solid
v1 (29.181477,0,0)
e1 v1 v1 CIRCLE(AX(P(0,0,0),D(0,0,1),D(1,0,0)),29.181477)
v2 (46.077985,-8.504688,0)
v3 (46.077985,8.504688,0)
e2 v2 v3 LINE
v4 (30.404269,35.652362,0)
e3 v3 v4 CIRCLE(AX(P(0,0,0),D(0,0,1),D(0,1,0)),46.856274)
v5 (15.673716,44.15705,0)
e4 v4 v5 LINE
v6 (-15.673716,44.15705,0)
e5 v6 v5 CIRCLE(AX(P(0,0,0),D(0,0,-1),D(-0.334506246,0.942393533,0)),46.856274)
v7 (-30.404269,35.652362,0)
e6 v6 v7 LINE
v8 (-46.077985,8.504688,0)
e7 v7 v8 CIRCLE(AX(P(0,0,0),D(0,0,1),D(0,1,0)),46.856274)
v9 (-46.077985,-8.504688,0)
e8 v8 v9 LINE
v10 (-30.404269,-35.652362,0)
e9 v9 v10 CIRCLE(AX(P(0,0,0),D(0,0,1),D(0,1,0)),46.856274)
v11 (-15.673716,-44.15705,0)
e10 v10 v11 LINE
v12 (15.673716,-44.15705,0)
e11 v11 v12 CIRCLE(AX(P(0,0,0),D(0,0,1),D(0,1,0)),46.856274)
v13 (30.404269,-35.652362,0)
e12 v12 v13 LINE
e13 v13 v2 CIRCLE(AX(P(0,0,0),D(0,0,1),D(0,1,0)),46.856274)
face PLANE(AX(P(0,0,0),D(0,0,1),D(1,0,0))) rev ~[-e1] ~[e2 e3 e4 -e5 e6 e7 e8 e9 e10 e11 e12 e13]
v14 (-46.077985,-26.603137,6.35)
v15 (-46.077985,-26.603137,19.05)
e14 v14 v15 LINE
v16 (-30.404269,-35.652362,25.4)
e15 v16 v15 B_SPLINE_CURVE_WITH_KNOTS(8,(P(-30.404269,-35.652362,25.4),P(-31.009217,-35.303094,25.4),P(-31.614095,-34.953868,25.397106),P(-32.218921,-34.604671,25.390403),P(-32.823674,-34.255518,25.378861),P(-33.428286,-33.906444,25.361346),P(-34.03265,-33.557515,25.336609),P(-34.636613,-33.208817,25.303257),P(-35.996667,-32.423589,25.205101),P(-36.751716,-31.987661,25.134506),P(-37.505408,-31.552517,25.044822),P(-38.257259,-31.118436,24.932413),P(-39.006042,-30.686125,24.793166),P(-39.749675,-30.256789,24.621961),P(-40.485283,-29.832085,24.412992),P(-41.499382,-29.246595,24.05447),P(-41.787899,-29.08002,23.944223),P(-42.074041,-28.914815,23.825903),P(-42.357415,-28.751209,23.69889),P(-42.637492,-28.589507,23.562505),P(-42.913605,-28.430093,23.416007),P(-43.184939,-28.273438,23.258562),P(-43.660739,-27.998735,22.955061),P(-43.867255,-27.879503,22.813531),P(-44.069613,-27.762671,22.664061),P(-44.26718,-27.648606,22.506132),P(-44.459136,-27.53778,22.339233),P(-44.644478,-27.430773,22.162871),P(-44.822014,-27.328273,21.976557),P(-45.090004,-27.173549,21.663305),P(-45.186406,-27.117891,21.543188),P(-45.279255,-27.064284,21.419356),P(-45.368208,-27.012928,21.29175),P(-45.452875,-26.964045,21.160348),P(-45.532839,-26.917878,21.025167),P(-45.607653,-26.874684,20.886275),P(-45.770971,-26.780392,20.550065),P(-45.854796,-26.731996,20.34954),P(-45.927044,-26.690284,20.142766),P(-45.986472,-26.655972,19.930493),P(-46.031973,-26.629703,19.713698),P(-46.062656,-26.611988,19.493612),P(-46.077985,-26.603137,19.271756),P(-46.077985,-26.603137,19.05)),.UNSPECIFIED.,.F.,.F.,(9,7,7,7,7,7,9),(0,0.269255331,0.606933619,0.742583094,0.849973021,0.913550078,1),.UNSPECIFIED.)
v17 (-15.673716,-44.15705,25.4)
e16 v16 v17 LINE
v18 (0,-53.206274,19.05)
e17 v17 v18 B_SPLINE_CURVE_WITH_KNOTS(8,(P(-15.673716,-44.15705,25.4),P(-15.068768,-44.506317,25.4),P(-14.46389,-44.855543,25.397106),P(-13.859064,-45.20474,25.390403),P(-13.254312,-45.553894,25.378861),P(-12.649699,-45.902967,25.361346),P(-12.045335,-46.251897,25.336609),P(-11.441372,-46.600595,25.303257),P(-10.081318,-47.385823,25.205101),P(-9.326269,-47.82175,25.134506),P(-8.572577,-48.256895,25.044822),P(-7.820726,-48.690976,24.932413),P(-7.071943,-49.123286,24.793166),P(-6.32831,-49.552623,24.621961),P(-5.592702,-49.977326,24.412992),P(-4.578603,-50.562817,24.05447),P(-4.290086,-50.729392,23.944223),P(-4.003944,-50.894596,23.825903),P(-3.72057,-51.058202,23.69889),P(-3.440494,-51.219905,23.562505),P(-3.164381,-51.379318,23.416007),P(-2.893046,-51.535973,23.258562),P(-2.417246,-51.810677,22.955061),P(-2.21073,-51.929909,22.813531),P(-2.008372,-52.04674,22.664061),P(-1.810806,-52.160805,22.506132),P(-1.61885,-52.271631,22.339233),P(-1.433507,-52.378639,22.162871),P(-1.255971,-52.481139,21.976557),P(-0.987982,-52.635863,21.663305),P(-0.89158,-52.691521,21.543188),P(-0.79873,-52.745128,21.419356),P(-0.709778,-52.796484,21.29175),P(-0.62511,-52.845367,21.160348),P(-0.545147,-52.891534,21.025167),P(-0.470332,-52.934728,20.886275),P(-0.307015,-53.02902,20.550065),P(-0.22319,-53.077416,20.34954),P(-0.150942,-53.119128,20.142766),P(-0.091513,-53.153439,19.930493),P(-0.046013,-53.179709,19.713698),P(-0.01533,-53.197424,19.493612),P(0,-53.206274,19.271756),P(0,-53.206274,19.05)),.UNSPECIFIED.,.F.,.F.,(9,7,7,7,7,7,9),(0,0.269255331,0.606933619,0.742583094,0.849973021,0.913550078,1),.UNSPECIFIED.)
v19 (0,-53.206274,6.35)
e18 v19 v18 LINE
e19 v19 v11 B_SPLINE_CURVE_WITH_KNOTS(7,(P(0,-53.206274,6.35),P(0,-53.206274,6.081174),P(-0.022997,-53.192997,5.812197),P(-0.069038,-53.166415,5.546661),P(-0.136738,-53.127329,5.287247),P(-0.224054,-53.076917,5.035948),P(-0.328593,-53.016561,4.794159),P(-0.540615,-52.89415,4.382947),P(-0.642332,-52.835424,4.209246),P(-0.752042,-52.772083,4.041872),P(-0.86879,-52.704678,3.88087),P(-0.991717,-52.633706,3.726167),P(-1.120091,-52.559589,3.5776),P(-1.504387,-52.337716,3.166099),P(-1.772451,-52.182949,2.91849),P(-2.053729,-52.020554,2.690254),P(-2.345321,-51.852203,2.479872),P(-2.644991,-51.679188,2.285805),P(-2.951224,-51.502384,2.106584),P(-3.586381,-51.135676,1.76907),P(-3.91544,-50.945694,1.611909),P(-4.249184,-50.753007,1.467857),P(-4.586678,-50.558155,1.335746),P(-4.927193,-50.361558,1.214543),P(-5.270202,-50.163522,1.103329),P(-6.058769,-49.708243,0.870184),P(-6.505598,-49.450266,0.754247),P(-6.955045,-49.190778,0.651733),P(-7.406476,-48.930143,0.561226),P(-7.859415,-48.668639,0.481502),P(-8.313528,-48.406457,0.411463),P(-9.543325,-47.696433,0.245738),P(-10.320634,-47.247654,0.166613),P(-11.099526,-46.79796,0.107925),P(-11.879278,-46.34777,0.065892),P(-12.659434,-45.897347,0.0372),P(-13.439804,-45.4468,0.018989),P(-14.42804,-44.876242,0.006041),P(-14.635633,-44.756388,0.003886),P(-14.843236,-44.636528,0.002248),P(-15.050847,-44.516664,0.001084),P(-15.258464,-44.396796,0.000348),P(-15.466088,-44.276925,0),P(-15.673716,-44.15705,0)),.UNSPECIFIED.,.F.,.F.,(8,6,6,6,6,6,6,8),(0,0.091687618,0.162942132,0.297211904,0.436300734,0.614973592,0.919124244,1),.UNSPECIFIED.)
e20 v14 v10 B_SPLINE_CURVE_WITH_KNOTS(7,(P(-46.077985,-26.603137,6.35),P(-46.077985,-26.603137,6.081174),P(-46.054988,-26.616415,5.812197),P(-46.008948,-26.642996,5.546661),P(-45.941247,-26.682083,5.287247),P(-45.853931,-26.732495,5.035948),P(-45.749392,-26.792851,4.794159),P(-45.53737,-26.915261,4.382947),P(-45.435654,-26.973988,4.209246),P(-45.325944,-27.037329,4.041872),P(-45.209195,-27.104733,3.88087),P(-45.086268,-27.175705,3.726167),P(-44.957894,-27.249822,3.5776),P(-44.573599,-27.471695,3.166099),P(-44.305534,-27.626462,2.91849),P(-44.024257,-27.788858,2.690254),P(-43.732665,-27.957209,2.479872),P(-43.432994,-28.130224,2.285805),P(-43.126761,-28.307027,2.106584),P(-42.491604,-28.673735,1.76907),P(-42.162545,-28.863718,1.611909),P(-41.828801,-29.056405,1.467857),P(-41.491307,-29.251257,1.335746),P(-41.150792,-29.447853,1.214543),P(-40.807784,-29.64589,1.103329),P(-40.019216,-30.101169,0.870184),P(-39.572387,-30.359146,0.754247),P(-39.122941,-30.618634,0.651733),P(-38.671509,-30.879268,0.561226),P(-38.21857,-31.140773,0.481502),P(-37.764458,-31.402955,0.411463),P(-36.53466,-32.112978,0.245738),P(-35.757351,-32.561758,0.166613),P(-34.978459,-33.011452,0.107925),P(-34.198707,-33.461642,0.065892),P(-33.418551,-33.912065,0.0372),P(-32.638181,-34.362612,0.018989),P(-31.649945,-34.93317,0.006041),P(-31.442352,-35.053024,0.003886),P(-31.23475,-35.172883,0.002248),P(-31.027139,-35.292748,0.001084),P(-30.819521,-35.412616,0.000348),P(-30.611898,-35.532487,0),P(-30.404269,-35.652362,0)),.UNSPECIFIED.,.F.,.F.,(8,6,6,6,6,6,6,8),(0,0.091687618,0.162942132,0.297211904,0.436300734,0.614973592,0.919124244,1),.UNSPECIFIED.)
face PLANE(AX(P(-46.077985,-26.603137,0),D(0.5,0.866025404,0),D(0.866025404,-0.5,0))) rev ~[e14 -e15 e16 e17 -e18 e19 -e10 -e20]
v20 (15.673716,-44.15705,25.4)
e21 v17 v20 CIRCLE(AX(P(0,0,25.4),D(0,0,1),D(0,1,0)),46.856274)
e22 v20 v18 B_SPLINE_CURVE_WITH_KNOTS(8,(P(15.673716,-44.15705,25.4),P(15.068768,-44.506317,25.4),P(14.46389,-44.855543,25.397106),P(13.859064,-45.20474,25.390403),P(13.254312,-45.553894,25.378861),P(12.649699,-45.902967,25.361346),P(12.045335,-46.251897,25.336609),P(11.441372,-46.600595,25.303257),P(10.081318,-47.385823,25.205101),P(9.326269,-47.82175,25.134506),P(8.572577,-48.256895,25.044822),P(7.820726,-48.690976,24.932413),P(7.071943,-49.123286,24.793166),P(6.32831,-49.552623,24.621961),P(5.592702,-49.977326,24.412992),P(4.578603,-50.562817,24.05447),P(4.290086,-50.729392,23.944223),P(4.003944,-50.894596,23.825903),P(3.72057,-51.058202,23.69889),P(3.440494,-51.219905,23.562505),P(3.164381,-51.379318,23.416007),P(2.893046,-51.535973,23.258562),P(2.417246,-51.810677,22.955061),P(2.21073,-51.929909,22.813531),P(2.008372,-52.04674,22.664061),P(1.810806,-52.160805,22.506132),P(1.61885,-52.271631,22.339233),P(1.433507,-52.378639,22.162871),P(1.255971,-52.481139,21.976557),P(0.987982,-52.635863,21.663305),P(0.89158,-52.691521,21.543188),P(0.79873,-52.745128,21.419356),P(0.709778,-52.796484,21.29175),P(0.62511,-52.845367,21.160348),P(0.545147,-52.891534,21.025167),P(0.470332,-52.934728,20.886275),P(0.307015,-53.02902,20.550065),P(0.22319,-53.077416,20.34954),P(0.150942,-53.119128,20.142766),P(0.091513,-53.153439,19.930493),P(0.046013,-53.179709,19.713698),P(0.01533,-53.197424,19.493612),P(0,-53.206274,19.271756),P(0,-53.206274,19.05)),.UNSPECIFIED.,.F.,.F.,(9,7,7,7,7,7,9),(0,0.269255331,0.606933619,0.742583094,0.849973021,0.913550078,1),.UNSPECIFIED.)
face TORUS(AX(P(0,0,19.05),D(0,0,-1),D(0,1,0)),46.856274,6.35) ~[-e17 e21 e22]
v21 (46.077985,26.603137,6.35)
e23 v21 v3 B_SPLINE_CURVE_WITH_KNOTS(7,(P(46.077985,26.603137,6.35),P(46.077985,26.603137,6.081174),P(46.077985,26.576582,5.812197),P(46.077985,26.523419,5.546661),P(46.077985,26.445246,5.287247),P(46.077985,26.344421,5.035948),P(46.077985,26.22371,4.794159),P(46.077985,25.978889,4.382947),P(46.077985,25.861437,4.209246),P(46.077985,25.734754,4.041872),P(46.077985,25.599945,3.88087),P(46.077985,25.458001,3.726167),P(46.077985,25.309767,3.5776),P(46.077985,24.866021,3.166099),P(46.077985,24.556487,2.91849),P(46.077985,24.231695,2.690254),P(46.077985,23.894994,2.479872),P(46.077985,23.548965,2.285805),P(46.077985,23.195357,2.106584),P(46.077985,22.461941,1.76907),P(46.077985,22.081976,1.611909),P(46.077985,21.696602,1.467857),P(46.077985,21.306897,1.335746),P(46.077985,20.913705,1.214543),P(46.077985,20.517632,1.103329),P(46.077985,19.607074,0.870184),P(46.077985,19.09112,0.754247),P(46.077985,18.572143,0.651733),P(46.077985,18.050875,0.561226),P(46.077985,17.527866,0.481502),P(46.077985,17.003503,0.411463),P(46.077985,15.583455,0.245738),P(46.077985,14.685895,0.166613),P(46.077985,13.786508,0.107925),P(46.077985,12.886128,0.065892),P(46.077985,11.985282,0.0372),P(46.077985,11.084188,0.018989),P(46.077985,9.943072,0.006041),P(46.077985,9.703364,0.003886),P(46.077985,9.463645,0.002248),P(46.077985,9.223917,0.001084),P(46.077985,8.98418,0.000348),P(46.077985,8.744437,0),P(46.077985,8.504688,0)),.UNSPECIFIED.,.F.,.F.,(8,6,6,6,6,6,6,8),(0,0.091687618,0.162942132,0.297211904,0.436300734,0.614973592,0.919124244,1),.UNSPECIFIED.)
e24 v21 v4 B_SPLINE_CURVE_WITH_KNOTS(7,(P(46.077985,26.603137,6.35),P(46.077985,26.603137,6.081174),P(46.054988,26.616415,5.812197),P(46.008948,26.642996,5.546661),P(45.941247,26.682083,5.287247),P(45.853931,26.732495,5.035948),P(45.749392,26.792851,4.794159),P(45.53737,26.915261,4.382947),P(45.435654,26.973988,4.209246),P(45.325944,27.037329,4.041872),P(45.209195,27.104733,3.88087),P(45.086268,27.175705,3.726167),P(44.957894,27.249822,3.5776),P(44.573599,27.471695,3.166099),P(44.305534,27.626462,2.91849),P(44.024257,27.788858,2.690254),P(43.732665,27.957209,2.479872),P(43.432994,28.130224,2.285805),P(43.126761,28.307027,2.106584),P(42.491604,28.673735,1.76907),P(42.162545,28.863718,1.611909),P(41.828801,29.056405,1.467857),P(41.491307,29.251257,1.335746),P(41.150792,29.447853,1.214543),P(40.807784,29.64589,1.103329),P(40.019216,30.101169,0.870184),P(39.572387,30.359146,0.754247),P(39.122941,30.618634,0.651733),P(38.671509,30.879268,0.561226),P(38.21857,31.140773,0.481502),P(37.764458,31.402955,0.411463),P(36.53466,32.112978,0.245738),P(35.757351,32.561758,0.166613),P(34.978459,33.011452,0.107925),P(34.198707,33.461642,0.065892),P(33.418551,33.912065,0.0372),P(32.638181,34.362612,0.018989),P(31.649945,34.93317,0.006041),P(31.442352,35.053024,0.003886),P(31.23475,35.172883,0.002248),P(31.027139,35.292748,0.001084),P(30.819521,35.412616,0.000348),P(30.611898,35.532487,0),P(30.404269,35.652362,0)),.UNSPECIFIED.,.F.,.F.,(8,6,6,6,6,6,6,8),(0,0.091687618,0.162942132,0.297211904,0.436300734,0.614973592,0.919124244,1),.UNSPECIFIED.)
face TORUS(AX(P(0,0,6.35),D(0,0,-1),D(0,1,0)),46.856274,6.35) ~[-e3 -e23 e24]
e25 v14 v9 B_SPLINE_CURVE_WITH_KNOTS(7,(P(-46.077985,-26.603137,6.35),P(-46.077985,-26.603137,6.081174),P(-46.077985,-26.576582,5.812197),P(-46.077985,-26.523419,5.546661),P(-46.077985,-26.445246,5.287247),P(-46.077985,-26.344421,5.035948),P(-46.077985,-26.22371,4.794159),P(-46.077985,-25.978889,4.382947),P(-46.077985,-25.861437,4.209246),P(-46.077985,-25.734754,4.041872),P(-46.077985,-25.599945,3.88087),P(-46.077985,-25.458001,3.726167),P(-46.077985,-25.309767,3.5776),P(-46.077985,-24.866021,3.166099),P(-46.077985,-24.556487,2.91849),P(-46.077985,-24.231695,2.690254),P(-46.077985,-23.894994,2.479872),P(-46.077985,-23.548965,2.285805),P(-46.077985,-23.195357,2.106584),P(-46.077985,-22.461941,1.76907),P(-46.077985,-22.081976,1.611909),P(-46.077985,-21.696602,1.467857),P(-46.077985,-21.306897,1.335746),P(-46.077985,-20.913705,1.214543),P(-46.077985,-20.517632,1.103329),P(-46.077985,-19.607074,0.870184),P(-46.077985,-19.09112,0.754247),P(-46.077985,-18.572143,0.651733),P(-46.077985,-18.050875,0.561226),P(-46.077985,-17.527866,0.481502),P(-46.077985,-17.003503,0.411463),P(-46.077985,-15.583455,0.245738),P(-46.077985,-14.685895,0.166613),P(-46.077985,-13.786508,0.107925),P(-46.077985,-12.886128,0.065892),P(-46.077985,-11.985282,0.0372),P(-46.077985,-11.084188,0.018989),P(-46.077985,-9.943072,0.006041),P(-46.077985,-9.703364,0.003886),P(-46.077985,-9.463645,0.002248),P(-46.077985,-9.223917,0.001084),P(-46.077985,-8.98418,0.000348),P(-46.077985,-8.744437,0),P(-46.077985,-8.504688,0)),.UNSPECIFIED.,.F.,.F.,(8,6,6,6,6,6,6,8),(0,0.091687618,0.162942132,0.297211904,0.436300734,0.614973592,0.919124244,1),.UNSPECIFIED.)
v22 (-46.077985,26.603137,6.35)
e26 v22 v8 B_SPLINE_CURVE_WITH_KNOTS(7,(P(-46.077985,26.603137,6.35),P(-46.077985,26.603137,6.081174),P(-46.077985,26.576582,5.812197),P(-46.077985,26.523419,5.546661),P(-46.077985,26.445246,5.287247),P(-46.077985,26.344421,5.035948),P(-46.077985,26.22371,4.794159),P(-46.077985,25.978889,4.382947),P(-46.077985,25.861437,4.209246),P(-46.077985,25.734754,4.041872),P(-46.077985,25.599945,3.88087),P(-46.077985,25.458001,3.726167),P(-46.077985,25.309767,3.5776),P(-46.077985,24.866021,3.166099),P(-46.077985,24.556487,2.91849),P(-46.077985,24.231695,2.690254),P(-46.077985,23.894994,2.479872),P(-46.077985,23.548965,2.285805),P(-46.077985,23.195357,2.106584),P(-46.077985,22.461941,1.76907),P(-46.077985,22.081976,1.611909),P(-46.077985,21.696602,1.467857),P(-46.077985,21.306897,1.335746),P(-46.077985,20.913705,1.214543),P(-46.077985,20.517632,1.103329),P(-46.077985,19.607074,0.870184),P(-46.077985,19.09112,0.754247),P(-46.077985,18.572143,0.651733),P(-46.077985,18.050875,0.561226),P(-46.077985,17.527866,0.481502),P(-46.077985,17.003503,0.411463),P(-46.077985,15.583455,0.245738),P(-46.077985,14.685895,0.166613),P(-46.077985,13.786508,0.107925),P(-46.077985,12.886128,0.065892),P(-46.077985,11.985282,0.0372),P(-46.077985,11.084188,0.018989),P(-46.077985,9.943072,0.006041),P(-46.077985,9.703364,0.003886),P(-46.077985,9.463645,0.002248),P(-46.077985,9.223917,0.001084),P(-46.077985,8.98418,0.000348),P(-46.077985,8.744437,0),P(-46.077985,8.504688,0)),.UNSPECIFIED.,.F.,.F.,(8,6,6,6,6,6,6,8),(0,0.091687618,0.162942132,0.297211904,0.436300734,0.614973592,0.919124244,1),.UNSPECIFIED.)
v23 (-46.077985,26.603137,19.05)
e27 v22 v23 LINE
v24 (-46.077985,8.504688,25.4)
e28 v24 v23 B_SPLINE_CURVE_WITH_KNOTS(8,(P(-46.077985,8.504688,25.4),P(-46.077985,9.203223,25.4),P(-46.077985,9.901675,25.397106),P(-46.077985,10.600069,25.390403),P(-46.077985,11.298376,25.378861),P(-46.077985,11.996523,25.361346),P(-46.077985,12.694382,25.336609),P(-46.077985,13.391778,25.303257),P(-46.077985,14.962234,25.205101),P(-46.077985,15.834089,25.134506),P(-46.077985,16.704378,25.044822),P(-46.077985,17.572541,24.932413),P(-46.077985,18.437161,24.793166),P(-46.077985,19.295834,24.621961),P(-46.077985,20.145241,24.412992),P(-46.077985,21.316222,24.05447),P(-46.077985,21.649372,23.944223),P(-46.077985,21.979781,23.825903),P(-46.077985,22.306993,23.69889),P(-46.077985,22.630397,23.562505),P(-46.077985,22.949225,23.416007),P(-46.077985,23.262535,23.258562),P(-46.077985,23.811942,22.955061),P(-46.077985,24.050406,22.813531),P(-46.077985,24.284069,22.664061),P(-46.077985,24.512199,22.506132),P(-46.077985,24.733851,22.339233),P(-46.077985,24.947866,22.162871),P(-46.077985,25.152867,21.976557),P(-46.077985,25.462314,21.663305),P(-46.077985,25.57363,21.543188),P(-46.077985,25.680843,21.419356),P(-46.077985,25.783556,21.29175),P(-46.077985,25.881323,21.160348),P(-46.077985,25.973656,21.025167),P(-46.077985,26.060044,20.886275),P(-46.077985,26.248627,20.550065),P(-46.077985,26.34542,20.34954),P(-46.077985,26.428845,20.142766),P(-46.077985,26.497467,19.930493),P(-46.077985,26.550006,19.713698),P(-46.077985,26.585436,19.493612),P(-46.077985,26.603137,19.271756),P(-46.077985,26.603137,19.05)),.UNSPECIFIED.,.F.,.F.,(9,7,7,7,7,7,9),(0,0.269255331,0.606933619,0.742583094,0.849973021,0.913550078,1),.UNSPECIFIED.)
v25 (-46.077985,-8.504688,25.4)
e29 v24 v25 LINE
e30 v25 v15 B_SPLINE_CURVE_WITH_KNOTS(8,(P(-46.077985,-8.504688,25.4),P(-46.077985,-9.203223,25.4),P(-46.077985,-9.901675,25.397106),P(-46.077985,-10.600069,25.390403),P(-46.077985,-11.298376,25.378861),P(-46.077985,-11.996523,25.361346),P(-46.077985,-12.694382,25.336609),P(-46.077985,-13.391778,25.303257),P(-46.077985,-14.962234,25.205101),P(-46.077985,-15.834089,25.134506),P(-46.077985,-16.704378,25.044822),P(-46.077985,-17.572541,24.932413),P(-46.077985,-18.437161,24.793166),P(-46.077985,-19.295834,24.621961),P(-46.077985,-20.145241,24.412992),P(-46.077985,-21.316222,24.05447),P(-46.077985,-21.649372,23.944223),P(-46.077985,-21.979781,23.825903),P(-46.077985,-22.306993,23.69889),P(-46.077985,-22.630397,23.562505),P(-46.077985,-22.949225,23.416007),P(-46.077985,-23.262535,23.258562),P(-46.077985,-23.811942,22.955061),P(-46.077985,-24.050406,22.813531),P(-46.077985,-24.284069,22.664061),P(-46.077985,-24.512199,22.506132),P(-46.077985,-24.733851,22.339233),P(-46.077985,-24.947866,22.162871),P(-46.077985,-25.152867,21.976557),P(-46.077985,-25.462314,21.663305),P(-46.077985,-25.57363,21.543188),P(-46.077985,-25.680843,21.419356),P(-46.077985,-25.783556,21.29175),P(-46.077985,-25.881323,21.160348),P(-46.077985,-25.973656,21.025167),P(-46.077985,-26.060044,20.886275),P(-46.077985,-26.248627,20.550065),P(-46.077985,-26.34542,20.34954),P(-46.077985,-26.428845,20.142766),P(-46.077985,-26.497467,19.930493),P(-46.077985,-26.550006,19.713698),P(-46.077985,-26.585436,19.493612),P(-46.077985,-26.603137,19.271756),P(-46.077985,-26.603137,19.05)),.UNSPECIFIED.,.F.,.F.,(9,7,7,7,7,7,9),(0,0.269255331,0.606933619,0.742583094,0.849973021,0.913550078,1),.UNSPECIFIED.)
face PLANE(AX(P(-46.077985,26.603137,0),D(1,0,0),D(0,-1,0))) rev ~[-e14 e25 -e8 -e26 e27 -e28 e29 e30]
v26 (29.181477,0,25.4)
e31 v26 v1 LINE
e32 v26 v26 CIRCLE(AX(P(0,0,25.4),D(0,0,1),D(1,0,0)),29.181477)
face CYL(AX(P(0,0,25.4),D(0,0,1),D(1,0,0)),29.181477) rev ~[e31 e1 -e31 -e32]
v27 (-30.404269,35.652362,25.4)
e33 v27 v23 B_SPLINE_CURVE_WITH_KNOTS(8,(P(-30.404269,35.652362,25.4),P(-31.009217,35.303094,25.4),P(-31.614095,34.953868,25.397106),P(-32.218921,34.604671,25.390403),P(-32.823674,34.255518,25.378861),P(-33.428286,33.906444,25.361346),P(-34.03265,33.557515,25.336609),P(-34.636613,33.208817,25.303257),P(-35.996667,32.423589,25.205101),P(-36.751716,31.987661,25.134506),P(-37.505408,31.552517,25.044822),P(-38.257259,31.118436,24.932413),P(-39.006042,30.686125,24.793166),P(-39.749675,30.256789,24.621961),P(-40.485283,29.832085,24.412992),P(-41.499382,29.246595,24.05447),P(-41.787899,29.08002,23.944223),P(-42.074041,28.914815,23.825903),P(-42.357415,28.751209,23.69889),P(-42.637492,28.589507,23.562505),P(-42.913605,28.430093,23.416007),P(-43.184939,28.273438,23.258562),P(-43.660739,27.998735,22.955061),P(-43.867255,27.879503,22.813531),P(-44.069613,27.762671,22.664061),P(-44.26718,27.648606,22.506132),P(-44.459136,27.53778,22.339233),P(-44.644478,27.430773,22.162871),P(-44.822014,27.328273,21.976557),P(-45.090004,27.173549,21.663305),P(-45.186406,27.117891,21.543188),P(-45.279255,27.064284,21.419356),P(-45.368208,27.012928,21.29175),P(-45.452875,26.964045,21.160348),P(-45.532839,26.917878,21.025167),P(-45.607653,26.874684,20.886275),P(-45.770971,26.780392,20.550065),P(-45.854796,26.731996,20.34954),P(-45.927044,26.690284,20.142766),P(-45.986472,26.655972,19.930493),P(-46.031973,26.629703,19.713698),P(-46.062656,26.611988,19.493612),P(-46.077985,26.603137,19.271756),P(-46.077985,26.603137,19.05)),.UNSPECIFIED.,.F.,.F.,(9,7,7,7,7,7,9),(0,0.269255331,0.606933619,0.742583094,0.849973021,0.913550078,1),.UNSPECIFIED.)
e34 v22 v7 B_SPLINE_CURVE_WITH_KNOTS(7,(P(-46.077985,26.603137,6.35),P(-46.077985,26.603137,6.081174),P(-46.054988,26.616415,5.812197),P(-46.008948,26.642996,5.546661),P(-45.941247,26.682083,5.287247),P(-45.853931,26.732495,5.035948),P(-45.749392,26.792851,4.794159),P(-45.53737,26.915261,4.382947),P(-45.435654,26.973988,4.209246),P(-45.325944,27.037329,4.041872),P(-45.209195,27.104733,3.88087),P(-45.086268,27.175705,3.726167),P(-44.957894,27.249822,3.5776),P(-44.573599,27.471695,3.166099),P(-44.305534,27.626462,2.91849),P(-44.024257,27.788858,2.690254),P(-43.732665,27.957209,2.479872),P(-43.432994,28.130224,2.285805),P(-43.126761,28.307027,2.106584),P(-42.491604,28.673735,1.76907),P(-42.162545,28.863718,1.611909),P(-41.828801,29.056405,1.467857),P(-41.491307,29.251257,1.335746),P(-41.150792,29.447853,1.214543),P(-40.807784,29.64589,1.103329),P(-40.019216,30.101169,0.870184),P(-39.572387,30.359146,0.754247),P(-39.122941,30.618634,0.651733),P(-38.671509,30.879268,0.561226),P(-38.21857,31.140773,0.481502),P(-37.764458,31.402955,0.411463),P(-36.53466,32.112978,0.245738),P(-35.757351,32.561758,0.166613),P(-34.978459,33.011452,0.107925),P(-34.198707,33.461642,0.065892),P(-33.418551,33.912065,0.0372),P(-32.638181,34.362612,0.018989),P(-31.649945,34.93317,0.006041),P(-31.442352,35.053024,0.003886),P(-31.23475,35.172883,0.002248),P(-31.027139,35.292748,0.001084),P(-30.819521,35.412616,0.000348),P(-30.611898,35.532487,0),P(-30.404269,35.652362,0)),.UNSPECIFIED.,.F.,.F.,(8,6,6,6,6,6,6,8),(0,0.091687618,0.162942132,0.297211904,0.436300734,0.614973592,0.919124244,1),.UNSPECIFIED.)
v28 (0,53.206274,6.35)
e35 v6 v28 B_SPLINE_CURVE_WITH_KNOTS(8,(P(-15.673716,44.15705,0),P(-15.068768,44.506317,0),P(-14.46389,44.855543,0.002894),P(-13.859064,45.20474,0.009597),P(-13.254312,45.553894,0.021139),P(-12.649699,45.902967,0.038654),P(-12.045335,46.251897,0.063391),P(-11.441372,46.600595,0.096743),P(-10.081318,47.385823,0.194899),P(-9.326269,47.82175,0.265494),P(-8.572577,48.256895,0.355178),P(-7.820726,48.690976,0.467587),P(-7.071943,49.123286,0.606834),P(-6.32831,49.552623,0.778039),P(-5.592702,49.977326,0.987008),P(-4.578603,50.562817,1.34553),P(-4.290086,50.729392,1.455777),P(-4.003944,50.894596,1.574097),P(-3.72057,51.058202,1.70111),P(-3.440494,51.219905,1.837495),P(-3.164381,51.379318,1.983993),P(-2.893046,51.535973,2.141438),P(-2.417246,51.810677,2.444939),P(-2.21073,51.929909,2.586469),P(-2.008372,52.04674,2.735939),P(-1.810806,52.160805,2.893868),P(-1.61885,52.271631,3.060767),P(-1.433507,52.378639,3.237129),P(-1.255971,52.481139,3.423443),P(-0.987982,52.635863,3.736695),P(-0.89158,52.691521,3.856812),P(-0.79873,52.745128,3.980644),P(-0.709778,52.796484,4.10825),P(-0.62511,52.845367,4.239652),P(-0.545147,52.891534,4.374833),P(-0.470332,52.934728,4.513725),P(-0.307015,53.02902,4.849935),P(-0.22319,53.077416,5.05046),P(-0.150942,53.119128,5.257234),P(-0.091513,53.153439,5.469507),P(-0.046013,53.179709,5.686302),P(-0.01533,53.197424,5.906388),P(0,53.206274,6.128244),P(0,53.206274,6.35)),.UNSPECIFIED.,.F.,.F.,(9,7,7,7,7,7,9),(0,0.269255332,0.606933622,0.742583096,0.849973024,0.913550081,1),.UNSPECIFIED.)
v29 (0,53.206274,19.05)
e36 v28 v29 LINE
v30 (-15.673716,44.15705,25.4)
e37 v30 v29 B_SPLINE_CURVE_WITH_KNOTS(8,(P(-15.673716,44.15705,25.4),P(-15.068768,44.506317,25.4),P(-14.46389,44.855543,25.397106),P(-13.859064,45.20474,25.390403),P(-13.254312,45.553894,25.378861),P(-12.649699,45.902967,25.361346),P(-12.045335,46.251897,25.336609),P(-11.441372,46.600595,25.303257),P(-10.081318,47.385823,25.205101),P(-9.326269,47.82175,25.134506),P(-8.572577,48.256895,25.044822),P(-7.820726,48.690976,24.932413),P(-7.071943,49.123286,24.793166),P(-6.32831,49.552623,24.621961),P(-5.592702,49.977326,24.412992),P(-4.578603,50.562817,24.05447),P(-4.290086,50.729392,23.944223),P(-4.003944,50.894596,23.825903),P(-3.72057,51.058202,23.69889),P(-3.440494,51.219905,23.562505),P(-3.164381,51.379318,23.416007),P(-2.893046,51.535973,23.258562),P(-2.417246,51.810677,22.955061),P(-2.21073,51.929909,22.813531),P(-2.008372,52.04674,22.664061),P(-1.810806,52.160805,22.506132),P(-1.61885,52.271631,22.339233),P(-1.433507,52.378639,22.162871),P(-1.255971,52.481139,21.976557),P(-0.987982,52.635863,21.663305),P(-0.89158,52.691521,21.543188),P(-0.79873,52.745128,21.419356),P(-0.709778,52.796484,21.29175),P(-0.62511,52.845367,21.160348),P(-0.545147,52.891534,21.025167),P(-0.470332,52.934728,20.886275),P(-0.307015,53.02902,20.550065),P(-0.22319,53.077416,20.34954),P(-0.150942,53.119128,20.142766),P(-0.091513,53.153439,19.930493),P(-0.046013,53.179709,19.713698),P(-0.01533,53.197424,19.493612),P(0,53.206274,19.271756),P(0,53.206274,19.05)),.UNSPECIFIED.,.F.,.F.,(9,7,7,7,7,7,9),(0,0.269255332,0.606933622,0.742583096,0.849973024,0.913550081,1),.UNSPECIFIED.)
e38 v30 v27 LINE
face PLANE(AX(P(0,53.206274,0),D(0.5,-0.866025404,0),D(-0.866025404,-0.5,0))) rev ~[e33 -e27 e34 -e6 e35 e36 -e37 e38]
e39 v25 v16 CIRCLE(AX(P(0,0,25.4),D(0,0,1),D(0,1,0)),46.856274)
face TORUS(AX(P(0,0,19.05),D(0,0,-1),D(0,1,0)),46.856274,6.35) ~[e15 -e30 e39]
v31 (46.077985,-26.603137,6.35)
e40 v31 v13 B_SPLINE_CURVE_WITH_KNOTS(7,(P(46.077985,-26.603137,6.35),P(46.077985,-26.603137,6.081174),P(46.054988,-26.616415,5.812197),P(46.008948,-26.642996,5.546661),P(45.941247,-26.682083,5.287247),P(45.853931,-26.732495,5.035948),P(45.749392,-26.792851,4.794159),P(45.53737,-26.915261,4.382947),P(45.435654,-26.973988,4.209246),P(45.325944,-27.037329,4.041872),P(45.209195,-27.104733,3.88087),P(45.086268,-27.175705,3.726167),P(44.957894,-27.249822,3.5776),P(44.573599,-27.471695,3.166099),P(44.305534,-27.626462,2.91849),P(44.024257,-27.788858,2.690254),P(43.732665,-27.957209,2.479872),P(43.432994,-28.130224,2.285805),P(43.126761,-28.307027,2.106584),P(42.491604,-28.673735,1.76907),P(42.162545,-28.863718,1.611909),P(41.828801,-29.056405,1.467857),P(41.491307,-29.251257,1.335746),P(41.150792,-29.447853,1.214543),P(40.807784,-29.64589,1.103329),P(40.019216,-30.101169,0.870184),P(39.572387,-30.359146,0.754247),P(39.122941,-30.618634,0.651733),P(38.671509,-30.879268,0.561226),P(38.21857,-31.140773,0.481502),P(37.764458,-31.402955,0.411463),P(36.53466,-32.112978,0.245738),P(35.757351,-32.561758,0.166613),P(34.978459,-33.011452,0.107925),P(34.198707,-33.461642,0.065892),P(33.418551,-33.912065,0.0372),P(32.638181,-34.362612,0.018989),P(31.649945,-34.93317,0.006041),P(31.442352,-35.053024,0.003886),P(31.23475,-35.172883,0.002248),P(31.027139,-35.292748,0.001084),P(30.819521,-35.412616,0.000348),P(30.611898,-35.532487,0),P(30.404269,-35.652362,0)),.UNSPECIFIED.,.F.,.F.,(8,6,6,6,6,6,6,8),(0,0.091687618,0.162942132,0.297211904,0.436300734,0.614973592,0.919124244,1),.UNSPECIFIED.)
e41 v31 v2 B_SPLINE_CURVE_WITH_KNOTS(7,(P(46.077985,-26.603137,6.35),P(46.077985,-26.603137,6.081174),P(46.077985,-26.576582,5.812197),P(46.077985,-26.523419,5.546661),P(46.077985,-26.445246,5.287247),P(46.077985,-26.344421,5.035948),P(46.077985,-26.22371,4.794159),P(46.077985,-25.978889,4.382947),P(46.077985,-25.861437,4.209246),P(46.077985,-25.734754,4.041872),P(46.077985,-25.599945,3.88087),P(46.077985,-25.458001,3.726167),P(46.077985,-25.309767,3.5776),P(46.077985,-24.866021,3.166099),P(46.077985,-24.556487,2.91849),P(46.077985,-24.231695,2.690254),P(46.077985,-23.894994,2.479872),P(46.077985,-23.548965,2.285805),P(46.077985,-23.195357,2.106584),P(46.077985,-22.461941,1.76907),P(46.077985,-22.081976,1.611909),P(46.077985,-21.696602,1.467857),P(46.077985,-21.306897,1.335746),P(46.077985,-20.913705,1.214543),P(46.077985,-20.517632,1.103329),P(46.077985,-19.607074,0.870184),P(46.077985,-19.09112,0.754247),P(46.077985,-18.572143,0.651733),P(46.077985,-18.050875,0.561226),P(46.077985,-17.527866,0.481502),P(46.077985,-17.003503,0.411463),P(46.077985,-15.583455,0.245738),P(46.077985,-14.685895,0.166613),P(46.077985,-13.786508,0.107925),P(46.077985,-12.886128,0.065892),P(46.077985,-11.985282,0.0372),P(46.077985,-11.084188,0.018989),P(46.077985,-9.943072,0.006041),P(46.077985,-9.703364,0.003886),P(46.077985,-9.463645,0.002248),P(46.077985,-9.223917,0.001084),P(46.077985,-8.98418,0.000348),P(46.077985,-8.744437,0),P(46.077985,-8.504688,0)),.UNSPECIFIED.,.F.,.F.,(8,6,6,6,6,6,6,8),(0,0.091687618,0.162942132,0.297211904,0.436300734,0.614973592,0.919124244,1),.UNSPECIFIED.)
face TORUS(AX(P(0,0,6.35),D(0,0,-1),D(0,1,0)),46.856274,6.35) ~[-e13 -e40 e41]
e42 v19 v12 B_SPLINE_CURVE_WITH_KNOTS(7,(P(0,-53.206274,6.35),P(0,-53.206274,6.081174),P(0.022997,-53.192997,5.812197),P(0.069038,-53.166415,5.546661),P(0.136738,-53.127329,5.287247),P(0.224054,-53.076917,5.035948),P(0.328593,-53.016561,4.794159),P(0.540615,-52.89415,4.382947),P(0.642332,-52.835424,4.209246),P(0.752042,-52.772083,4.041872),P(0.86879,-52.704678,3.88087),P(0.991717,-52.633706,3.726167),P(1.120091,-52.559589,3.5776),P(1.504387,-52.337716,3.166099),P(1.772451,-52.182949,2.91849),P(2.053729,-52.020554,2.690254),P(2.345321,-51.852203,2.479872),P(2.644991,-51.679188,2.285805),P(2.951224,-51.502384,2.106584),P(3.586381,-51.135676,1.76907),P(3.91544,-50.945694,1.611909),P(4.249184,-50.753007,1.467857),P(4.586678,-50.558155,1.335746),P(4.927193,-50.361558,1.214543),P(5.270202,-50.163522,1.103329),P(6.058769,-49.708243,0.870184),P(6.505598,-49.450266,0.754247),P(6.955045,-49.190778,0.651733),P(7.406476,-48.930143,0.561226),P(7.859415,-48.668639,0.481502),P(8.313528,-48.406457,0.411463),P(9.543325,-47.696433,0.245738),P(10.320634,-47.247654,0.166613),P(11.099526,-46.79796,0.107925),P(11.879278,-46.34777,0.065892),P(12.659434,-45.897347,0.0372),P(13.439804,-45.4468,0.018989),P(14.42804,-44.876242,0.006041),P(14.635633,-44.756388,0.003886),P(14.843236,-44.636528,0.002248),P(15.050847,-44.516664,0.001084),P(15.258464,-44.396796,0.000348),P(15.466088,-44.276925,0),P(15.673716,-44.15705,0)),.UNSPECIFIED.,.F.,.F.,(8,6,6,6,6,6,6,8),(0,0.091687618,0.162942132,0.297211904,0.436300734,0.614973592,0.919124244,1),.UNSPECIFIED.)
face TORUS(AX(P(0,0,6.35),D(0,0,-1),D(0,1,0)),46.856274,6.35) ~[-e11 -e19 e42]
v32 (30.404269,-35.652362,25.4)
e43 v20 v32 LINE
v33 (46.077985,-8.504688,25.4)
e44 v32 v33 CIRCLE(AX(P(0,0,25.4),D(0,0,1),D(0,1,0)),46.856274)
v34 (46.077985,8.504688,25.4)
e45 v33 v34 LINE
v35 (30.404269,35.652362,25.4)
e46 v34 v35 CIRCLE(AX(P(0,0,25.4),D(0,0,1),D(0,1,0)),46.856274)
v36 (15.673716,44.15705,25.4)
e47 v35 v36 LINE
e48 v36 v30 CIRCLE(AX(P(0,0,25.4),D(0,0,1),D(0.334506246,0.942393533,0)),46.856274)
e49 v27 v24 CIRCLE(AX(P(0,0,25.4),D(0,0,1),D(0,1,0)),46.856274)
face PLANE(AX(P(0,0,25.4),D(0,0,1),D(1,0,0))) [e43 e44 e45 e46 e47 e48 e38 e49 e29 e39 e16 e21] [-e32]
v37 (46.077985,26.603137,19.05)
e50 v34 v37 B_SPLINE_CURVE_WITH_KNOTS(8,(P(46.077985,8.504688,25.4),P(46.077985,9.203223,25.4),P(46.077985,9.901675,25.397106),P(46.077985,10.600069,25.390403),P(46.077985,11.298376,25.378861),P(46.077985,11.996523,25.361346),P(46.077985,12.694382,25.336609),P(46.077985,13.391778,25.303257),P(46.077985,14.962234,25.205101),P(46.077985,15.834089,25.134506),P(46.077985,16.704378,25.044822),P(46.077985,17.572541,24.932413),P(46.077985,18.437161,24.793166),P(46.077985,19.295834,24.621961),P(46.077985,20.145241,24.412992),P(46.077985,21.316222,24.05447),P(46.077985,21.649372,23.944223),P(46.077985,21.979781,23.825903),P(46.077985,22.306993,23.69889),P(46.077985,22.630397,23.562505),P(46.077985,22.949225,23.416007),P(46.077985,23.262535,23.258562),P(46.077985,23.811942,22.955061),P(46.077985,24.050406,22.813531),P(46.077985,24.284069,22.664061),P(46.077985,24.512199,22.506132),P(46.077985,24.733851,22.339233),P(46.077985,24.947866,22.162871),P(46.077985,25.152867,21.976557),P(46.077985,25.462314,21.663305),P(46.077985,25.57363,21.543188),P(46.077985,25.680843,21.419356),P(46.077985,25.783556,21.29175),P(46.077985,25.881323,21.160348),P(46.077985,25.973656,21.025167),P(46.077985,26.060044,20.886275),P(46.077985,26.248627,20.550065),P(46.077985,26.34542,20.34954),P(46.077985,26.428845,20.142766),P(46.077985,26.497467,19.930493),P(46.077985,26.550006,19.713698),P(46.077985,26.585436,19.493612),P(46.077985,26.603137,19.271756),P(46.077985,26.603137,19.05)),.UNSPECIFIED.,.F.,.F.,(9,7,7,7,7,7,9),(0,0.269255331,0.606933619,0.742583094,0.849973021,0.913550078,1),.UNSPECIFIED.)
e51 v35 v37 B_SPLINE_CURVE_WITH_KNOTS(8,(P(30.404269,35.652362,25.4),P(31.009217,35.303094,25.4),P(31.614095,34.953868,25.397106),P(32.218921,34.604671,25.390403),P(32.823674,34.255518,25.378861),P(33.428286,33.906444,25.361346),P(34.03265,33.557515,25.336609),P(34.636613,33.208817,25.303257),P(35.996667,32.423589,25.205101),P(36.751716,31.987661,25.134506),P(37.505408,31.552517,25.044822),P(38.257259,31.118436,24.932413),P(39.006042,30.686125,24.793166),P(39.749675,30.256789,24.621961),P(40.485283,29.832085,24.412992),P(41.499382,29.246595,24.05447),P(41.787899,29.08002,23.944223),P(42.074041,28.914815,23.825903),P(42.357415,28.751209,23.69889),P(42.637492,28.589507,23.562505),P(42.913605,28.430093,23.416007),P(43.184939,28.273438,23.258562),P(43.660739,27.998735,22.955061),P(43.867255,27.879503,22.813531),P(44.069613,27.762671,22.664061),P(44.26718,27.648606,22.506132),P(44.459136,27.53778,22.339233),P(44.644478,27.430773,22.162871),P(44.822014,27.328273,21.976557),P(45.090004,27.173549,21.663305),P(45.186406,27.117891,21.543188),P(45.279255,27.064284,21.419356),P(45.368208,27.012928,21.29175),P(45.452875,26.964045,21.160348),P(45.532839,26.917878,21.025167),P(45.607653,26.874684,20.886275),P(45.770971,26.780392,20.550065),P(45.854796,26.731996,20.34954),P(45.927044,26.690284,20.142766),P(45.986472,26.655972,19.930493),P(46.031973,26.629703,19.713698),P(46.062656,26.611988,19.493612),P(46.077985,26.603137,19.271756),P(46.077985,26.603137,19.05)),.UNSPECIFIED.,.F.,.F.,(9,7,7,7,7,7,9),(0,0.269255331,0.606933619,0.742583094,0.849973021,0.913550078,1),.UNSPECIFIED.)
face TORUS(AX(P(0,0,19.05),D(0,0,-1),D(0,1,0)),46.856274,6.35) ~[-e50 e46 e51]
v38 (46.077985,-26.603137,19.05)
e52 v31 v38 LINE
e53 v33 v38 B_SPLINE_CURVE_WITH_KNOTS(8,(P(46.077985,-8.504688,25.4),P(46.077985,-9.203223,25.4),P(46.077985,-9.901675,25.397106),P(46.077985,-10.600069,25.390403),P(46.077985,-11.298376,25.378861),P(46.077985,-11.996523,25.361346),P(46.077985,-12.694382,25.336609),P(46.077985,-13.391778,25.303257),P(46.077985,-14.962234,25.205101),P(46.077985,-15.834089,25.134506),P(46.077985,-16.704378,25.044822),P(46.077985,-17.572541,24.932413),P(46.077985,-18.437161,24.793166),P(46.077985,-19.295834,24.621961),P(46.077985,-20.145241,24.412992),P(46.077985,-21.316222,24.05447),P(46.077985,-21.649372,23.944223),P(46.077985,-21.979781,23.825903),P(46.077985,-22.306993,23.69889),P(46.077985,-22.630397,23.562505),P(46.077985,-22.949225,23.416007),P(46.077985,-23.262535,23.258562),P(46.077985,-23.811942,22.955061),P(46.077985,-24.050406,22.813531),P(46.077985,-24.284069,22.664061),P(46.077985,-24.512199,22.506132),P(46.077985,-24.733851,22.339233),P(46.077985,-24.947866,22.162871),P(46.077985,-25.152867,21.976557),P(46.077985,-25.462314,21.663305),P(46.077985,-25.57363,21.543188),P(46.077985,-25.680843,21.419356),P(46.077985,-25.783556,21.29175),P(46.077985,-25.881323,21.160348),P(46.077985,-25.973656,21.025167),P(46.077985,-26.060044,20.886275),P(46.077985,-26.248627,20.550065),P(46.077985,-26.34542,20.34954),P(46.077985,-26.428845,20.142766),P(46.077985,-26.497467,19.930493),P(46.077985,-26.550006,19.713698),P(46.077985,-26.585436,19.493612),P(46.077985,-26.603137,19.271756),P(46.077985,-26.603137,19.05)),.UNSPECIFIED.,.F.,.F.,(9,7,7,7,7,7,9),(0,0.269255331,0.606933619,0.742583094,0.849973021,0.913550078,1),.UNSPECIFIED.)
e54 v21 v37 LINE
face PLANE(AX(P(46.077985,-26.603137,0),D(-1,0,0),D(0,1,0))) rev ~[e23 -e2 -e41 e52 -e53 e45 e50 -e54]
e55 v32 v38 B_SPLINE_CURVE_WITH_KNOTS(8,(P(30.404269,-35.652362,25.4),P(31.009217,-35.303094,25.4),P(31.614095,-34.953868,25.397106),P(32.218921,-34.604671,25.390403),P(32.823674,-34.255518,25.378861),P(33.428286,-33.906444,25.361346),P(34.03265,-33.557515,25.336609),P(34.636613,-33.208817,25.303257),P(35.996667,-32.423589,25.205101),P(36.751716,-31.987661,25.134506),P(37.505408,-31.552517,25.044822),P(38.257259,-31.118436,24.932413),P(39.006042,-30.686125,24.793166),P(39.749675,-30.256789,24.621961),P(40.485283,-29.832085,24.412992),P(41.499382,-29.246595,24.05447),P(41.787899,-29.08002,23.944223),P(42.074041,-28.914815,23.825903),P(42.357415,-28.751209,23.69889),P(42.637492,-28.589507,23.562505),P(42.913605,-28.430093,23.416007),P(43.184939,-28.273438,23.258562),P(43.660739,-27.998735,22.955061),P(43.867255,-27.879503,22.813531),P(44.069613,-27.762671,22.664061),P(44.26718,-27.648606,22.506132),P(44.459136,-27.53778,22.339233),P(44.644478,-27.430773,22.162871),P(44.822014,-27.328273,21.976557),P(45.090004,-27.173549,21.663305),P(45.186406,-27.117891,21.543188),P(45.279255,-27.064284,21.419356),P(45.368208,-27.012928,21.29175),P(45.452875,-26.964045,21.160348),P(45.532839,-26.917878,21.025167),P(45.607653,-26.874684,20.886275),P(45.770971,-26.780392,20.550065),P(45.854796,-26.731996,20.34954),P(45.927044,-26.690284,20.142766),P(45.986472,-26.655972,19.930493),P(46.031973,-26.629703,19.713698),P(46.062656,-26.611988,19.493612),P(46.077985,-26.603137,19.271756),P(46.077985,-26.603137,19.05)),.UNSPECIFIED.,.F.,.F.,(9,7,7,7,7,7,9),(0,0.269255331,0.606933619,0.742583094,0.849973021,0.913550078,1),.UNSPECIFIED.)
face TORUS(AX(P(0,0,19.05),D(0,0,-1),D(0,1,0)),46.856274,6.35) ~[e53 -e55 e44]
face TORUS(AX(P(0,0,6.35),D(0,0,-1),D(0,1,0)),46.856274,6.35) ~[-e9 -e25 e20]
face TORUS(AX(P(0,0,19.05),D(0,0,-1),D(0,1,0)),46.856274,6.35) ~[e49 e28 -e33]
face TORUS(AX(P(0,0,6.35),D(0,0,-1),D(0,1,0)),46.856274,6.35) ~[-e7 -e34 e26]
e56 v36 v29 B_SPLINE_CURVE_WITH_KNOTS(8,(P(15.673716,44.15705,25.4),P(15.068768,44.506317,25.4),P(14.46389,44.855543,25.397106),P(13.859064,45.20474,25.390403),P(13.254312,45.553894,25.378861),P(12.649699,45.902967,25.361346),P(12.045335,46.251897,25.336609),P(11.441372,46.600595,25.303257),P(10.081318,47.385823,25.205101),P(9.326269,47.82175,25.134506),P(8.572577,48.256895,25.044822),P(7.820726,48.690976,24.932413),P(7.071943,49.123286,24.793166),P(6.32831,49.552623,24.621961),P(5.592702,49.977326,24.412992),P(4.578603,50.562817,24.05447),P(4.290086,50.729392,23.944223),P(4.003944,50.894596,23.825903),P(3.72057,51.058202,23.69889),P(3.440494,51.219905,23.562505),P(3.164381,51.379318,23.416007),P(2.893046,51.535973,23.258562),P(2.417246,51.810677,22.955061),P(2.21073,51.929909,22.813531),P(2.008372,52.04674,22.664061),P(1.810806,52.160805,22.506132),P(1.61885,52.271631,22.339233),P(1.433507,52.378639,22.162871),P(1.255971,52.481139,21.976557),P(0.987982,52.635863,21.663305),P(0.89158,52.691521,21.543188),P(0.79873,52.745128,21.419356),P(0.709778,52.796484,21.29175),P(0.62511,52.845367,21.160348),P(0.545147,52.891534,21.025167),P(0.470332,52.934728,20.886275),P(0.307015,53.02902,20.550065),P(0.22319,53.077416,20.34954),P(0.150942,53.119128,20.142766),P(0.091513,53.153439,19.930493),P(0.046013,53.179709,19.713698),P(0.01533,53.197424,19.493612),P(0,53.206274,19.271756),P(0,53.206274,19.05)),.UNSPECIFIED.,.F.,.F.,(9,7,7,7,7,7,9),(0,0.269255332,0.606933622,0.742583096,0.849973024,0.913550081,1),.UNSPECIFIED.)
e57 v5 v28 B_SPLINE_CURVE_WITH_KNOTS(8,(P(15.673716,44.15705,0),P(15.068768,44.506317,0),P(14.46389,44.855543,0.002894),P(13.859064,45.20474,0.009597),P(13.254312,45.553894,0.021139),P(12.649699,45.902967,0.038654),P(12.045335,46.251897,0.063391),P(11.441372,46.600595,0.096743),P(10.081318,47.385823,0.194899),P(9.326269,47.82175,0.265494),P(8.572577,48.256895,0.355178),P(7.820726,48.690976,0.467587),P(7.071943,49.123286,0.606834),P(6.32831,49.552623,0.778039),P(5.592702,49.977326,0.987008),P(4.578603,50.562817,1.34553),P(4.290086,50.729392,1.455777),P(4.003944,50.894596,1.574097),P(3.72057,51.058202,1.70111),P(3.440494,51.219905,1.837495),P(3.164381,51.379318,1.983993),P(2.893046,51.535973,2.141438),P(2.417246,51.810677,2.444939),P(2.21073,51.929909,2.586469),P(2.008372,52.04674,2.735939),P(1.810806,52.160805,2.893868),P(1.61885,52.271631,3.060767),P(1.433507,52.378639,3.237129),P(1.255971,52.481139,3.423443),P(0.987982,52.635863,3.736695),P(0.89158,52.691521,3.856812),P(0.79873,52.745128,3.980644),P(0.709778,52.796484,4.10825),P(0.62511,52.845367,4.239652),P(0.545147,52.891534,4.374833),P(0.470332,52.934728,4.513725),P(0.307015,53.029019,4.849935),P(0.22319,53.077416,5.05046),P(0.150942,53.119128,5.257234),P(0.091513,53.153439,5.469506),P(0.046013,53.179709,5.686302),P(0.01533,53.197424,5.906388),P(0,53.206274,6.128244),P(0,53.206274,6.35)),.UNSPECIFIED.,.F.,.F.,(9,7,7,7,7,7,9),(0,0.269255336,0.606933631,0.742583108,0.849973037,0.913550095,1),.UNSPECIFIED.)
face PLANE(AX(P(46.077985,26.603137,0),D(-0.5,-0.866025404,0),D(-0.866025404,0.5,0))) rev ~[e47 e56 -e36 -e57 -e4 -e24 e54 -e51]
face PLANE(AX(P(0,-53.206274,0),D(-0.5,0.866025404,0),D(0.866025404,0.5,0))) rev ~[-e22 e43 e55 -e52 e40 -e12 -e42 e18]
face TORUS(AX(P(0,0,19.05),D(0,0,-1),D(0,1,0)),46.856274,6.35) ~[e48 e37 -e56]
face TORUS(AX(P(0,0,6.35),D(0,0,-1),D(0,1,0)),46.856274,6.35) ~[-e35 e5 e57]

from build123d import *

# Parameters (mm, degrees)
F1_DEPTH = 25.4
F2_R     = 29.1814766443
F3_DEPTH = 25.4


with BuildPart() as f1:
    # F0 (on Top) → F1 (new body)
    with BuildSketch(Plane.XY):
        Polygon((46.0779853165, -26.6031372262), (46.0779853165, 26.6031372262), (0, 53.2062744524), (-46.0779853165, 26.6031372262), (-46.0779853165, -26.6031372262), (0, -53.2062744524), align=None)
    extrude(amount=F1_DEPTH)

    # F2 (on face) → F3 (cut)
    with BuildSketch(Plane.XY.offset(25.4)):
        Circle(F2_R)
    extrude(amount=-F3_DEPTH, mode=Mode.SUBTRACT)

    # F4 (on Right) → F5 (revolve, cut)
    with BuildSketch(Plane.YZ):
        with BuildLine():
            Line((53.2062744524, 25.4), (46.8562744524, 25.4))
            ThreePointArc((46.8562744524, 25.4), (51.3464025129, 23.5401280605), (53.2062744524, 19.05))
            Line((53.2062744524, 19.05), (53.2062744524, 25.4))
        make_face()
    revolve(axis=Axis((0, 0, 25.4), (0, 0, 1)), mode=Mode.SUBTRACT)

    # F6 (on Right) → F7 (revolve, cut)
    with BuildSketch(Plane.YZ):
        with BuildLine():
            Line((53.2062744524, 0), (53.2062744524, 6.35))
            ThreePointArc((53.2062744524, 6.35), (51.3464025129, 1.8598719395), (46.8562744524, 0))
            Line((46.8562744524, 0), (53.2062744524, 0))
        make_face()
    revolve(axis=Axis((0, 0, 25.4), (0, 0, 1)), mode=Mode.SUBTRACT)


solid = f1.part
